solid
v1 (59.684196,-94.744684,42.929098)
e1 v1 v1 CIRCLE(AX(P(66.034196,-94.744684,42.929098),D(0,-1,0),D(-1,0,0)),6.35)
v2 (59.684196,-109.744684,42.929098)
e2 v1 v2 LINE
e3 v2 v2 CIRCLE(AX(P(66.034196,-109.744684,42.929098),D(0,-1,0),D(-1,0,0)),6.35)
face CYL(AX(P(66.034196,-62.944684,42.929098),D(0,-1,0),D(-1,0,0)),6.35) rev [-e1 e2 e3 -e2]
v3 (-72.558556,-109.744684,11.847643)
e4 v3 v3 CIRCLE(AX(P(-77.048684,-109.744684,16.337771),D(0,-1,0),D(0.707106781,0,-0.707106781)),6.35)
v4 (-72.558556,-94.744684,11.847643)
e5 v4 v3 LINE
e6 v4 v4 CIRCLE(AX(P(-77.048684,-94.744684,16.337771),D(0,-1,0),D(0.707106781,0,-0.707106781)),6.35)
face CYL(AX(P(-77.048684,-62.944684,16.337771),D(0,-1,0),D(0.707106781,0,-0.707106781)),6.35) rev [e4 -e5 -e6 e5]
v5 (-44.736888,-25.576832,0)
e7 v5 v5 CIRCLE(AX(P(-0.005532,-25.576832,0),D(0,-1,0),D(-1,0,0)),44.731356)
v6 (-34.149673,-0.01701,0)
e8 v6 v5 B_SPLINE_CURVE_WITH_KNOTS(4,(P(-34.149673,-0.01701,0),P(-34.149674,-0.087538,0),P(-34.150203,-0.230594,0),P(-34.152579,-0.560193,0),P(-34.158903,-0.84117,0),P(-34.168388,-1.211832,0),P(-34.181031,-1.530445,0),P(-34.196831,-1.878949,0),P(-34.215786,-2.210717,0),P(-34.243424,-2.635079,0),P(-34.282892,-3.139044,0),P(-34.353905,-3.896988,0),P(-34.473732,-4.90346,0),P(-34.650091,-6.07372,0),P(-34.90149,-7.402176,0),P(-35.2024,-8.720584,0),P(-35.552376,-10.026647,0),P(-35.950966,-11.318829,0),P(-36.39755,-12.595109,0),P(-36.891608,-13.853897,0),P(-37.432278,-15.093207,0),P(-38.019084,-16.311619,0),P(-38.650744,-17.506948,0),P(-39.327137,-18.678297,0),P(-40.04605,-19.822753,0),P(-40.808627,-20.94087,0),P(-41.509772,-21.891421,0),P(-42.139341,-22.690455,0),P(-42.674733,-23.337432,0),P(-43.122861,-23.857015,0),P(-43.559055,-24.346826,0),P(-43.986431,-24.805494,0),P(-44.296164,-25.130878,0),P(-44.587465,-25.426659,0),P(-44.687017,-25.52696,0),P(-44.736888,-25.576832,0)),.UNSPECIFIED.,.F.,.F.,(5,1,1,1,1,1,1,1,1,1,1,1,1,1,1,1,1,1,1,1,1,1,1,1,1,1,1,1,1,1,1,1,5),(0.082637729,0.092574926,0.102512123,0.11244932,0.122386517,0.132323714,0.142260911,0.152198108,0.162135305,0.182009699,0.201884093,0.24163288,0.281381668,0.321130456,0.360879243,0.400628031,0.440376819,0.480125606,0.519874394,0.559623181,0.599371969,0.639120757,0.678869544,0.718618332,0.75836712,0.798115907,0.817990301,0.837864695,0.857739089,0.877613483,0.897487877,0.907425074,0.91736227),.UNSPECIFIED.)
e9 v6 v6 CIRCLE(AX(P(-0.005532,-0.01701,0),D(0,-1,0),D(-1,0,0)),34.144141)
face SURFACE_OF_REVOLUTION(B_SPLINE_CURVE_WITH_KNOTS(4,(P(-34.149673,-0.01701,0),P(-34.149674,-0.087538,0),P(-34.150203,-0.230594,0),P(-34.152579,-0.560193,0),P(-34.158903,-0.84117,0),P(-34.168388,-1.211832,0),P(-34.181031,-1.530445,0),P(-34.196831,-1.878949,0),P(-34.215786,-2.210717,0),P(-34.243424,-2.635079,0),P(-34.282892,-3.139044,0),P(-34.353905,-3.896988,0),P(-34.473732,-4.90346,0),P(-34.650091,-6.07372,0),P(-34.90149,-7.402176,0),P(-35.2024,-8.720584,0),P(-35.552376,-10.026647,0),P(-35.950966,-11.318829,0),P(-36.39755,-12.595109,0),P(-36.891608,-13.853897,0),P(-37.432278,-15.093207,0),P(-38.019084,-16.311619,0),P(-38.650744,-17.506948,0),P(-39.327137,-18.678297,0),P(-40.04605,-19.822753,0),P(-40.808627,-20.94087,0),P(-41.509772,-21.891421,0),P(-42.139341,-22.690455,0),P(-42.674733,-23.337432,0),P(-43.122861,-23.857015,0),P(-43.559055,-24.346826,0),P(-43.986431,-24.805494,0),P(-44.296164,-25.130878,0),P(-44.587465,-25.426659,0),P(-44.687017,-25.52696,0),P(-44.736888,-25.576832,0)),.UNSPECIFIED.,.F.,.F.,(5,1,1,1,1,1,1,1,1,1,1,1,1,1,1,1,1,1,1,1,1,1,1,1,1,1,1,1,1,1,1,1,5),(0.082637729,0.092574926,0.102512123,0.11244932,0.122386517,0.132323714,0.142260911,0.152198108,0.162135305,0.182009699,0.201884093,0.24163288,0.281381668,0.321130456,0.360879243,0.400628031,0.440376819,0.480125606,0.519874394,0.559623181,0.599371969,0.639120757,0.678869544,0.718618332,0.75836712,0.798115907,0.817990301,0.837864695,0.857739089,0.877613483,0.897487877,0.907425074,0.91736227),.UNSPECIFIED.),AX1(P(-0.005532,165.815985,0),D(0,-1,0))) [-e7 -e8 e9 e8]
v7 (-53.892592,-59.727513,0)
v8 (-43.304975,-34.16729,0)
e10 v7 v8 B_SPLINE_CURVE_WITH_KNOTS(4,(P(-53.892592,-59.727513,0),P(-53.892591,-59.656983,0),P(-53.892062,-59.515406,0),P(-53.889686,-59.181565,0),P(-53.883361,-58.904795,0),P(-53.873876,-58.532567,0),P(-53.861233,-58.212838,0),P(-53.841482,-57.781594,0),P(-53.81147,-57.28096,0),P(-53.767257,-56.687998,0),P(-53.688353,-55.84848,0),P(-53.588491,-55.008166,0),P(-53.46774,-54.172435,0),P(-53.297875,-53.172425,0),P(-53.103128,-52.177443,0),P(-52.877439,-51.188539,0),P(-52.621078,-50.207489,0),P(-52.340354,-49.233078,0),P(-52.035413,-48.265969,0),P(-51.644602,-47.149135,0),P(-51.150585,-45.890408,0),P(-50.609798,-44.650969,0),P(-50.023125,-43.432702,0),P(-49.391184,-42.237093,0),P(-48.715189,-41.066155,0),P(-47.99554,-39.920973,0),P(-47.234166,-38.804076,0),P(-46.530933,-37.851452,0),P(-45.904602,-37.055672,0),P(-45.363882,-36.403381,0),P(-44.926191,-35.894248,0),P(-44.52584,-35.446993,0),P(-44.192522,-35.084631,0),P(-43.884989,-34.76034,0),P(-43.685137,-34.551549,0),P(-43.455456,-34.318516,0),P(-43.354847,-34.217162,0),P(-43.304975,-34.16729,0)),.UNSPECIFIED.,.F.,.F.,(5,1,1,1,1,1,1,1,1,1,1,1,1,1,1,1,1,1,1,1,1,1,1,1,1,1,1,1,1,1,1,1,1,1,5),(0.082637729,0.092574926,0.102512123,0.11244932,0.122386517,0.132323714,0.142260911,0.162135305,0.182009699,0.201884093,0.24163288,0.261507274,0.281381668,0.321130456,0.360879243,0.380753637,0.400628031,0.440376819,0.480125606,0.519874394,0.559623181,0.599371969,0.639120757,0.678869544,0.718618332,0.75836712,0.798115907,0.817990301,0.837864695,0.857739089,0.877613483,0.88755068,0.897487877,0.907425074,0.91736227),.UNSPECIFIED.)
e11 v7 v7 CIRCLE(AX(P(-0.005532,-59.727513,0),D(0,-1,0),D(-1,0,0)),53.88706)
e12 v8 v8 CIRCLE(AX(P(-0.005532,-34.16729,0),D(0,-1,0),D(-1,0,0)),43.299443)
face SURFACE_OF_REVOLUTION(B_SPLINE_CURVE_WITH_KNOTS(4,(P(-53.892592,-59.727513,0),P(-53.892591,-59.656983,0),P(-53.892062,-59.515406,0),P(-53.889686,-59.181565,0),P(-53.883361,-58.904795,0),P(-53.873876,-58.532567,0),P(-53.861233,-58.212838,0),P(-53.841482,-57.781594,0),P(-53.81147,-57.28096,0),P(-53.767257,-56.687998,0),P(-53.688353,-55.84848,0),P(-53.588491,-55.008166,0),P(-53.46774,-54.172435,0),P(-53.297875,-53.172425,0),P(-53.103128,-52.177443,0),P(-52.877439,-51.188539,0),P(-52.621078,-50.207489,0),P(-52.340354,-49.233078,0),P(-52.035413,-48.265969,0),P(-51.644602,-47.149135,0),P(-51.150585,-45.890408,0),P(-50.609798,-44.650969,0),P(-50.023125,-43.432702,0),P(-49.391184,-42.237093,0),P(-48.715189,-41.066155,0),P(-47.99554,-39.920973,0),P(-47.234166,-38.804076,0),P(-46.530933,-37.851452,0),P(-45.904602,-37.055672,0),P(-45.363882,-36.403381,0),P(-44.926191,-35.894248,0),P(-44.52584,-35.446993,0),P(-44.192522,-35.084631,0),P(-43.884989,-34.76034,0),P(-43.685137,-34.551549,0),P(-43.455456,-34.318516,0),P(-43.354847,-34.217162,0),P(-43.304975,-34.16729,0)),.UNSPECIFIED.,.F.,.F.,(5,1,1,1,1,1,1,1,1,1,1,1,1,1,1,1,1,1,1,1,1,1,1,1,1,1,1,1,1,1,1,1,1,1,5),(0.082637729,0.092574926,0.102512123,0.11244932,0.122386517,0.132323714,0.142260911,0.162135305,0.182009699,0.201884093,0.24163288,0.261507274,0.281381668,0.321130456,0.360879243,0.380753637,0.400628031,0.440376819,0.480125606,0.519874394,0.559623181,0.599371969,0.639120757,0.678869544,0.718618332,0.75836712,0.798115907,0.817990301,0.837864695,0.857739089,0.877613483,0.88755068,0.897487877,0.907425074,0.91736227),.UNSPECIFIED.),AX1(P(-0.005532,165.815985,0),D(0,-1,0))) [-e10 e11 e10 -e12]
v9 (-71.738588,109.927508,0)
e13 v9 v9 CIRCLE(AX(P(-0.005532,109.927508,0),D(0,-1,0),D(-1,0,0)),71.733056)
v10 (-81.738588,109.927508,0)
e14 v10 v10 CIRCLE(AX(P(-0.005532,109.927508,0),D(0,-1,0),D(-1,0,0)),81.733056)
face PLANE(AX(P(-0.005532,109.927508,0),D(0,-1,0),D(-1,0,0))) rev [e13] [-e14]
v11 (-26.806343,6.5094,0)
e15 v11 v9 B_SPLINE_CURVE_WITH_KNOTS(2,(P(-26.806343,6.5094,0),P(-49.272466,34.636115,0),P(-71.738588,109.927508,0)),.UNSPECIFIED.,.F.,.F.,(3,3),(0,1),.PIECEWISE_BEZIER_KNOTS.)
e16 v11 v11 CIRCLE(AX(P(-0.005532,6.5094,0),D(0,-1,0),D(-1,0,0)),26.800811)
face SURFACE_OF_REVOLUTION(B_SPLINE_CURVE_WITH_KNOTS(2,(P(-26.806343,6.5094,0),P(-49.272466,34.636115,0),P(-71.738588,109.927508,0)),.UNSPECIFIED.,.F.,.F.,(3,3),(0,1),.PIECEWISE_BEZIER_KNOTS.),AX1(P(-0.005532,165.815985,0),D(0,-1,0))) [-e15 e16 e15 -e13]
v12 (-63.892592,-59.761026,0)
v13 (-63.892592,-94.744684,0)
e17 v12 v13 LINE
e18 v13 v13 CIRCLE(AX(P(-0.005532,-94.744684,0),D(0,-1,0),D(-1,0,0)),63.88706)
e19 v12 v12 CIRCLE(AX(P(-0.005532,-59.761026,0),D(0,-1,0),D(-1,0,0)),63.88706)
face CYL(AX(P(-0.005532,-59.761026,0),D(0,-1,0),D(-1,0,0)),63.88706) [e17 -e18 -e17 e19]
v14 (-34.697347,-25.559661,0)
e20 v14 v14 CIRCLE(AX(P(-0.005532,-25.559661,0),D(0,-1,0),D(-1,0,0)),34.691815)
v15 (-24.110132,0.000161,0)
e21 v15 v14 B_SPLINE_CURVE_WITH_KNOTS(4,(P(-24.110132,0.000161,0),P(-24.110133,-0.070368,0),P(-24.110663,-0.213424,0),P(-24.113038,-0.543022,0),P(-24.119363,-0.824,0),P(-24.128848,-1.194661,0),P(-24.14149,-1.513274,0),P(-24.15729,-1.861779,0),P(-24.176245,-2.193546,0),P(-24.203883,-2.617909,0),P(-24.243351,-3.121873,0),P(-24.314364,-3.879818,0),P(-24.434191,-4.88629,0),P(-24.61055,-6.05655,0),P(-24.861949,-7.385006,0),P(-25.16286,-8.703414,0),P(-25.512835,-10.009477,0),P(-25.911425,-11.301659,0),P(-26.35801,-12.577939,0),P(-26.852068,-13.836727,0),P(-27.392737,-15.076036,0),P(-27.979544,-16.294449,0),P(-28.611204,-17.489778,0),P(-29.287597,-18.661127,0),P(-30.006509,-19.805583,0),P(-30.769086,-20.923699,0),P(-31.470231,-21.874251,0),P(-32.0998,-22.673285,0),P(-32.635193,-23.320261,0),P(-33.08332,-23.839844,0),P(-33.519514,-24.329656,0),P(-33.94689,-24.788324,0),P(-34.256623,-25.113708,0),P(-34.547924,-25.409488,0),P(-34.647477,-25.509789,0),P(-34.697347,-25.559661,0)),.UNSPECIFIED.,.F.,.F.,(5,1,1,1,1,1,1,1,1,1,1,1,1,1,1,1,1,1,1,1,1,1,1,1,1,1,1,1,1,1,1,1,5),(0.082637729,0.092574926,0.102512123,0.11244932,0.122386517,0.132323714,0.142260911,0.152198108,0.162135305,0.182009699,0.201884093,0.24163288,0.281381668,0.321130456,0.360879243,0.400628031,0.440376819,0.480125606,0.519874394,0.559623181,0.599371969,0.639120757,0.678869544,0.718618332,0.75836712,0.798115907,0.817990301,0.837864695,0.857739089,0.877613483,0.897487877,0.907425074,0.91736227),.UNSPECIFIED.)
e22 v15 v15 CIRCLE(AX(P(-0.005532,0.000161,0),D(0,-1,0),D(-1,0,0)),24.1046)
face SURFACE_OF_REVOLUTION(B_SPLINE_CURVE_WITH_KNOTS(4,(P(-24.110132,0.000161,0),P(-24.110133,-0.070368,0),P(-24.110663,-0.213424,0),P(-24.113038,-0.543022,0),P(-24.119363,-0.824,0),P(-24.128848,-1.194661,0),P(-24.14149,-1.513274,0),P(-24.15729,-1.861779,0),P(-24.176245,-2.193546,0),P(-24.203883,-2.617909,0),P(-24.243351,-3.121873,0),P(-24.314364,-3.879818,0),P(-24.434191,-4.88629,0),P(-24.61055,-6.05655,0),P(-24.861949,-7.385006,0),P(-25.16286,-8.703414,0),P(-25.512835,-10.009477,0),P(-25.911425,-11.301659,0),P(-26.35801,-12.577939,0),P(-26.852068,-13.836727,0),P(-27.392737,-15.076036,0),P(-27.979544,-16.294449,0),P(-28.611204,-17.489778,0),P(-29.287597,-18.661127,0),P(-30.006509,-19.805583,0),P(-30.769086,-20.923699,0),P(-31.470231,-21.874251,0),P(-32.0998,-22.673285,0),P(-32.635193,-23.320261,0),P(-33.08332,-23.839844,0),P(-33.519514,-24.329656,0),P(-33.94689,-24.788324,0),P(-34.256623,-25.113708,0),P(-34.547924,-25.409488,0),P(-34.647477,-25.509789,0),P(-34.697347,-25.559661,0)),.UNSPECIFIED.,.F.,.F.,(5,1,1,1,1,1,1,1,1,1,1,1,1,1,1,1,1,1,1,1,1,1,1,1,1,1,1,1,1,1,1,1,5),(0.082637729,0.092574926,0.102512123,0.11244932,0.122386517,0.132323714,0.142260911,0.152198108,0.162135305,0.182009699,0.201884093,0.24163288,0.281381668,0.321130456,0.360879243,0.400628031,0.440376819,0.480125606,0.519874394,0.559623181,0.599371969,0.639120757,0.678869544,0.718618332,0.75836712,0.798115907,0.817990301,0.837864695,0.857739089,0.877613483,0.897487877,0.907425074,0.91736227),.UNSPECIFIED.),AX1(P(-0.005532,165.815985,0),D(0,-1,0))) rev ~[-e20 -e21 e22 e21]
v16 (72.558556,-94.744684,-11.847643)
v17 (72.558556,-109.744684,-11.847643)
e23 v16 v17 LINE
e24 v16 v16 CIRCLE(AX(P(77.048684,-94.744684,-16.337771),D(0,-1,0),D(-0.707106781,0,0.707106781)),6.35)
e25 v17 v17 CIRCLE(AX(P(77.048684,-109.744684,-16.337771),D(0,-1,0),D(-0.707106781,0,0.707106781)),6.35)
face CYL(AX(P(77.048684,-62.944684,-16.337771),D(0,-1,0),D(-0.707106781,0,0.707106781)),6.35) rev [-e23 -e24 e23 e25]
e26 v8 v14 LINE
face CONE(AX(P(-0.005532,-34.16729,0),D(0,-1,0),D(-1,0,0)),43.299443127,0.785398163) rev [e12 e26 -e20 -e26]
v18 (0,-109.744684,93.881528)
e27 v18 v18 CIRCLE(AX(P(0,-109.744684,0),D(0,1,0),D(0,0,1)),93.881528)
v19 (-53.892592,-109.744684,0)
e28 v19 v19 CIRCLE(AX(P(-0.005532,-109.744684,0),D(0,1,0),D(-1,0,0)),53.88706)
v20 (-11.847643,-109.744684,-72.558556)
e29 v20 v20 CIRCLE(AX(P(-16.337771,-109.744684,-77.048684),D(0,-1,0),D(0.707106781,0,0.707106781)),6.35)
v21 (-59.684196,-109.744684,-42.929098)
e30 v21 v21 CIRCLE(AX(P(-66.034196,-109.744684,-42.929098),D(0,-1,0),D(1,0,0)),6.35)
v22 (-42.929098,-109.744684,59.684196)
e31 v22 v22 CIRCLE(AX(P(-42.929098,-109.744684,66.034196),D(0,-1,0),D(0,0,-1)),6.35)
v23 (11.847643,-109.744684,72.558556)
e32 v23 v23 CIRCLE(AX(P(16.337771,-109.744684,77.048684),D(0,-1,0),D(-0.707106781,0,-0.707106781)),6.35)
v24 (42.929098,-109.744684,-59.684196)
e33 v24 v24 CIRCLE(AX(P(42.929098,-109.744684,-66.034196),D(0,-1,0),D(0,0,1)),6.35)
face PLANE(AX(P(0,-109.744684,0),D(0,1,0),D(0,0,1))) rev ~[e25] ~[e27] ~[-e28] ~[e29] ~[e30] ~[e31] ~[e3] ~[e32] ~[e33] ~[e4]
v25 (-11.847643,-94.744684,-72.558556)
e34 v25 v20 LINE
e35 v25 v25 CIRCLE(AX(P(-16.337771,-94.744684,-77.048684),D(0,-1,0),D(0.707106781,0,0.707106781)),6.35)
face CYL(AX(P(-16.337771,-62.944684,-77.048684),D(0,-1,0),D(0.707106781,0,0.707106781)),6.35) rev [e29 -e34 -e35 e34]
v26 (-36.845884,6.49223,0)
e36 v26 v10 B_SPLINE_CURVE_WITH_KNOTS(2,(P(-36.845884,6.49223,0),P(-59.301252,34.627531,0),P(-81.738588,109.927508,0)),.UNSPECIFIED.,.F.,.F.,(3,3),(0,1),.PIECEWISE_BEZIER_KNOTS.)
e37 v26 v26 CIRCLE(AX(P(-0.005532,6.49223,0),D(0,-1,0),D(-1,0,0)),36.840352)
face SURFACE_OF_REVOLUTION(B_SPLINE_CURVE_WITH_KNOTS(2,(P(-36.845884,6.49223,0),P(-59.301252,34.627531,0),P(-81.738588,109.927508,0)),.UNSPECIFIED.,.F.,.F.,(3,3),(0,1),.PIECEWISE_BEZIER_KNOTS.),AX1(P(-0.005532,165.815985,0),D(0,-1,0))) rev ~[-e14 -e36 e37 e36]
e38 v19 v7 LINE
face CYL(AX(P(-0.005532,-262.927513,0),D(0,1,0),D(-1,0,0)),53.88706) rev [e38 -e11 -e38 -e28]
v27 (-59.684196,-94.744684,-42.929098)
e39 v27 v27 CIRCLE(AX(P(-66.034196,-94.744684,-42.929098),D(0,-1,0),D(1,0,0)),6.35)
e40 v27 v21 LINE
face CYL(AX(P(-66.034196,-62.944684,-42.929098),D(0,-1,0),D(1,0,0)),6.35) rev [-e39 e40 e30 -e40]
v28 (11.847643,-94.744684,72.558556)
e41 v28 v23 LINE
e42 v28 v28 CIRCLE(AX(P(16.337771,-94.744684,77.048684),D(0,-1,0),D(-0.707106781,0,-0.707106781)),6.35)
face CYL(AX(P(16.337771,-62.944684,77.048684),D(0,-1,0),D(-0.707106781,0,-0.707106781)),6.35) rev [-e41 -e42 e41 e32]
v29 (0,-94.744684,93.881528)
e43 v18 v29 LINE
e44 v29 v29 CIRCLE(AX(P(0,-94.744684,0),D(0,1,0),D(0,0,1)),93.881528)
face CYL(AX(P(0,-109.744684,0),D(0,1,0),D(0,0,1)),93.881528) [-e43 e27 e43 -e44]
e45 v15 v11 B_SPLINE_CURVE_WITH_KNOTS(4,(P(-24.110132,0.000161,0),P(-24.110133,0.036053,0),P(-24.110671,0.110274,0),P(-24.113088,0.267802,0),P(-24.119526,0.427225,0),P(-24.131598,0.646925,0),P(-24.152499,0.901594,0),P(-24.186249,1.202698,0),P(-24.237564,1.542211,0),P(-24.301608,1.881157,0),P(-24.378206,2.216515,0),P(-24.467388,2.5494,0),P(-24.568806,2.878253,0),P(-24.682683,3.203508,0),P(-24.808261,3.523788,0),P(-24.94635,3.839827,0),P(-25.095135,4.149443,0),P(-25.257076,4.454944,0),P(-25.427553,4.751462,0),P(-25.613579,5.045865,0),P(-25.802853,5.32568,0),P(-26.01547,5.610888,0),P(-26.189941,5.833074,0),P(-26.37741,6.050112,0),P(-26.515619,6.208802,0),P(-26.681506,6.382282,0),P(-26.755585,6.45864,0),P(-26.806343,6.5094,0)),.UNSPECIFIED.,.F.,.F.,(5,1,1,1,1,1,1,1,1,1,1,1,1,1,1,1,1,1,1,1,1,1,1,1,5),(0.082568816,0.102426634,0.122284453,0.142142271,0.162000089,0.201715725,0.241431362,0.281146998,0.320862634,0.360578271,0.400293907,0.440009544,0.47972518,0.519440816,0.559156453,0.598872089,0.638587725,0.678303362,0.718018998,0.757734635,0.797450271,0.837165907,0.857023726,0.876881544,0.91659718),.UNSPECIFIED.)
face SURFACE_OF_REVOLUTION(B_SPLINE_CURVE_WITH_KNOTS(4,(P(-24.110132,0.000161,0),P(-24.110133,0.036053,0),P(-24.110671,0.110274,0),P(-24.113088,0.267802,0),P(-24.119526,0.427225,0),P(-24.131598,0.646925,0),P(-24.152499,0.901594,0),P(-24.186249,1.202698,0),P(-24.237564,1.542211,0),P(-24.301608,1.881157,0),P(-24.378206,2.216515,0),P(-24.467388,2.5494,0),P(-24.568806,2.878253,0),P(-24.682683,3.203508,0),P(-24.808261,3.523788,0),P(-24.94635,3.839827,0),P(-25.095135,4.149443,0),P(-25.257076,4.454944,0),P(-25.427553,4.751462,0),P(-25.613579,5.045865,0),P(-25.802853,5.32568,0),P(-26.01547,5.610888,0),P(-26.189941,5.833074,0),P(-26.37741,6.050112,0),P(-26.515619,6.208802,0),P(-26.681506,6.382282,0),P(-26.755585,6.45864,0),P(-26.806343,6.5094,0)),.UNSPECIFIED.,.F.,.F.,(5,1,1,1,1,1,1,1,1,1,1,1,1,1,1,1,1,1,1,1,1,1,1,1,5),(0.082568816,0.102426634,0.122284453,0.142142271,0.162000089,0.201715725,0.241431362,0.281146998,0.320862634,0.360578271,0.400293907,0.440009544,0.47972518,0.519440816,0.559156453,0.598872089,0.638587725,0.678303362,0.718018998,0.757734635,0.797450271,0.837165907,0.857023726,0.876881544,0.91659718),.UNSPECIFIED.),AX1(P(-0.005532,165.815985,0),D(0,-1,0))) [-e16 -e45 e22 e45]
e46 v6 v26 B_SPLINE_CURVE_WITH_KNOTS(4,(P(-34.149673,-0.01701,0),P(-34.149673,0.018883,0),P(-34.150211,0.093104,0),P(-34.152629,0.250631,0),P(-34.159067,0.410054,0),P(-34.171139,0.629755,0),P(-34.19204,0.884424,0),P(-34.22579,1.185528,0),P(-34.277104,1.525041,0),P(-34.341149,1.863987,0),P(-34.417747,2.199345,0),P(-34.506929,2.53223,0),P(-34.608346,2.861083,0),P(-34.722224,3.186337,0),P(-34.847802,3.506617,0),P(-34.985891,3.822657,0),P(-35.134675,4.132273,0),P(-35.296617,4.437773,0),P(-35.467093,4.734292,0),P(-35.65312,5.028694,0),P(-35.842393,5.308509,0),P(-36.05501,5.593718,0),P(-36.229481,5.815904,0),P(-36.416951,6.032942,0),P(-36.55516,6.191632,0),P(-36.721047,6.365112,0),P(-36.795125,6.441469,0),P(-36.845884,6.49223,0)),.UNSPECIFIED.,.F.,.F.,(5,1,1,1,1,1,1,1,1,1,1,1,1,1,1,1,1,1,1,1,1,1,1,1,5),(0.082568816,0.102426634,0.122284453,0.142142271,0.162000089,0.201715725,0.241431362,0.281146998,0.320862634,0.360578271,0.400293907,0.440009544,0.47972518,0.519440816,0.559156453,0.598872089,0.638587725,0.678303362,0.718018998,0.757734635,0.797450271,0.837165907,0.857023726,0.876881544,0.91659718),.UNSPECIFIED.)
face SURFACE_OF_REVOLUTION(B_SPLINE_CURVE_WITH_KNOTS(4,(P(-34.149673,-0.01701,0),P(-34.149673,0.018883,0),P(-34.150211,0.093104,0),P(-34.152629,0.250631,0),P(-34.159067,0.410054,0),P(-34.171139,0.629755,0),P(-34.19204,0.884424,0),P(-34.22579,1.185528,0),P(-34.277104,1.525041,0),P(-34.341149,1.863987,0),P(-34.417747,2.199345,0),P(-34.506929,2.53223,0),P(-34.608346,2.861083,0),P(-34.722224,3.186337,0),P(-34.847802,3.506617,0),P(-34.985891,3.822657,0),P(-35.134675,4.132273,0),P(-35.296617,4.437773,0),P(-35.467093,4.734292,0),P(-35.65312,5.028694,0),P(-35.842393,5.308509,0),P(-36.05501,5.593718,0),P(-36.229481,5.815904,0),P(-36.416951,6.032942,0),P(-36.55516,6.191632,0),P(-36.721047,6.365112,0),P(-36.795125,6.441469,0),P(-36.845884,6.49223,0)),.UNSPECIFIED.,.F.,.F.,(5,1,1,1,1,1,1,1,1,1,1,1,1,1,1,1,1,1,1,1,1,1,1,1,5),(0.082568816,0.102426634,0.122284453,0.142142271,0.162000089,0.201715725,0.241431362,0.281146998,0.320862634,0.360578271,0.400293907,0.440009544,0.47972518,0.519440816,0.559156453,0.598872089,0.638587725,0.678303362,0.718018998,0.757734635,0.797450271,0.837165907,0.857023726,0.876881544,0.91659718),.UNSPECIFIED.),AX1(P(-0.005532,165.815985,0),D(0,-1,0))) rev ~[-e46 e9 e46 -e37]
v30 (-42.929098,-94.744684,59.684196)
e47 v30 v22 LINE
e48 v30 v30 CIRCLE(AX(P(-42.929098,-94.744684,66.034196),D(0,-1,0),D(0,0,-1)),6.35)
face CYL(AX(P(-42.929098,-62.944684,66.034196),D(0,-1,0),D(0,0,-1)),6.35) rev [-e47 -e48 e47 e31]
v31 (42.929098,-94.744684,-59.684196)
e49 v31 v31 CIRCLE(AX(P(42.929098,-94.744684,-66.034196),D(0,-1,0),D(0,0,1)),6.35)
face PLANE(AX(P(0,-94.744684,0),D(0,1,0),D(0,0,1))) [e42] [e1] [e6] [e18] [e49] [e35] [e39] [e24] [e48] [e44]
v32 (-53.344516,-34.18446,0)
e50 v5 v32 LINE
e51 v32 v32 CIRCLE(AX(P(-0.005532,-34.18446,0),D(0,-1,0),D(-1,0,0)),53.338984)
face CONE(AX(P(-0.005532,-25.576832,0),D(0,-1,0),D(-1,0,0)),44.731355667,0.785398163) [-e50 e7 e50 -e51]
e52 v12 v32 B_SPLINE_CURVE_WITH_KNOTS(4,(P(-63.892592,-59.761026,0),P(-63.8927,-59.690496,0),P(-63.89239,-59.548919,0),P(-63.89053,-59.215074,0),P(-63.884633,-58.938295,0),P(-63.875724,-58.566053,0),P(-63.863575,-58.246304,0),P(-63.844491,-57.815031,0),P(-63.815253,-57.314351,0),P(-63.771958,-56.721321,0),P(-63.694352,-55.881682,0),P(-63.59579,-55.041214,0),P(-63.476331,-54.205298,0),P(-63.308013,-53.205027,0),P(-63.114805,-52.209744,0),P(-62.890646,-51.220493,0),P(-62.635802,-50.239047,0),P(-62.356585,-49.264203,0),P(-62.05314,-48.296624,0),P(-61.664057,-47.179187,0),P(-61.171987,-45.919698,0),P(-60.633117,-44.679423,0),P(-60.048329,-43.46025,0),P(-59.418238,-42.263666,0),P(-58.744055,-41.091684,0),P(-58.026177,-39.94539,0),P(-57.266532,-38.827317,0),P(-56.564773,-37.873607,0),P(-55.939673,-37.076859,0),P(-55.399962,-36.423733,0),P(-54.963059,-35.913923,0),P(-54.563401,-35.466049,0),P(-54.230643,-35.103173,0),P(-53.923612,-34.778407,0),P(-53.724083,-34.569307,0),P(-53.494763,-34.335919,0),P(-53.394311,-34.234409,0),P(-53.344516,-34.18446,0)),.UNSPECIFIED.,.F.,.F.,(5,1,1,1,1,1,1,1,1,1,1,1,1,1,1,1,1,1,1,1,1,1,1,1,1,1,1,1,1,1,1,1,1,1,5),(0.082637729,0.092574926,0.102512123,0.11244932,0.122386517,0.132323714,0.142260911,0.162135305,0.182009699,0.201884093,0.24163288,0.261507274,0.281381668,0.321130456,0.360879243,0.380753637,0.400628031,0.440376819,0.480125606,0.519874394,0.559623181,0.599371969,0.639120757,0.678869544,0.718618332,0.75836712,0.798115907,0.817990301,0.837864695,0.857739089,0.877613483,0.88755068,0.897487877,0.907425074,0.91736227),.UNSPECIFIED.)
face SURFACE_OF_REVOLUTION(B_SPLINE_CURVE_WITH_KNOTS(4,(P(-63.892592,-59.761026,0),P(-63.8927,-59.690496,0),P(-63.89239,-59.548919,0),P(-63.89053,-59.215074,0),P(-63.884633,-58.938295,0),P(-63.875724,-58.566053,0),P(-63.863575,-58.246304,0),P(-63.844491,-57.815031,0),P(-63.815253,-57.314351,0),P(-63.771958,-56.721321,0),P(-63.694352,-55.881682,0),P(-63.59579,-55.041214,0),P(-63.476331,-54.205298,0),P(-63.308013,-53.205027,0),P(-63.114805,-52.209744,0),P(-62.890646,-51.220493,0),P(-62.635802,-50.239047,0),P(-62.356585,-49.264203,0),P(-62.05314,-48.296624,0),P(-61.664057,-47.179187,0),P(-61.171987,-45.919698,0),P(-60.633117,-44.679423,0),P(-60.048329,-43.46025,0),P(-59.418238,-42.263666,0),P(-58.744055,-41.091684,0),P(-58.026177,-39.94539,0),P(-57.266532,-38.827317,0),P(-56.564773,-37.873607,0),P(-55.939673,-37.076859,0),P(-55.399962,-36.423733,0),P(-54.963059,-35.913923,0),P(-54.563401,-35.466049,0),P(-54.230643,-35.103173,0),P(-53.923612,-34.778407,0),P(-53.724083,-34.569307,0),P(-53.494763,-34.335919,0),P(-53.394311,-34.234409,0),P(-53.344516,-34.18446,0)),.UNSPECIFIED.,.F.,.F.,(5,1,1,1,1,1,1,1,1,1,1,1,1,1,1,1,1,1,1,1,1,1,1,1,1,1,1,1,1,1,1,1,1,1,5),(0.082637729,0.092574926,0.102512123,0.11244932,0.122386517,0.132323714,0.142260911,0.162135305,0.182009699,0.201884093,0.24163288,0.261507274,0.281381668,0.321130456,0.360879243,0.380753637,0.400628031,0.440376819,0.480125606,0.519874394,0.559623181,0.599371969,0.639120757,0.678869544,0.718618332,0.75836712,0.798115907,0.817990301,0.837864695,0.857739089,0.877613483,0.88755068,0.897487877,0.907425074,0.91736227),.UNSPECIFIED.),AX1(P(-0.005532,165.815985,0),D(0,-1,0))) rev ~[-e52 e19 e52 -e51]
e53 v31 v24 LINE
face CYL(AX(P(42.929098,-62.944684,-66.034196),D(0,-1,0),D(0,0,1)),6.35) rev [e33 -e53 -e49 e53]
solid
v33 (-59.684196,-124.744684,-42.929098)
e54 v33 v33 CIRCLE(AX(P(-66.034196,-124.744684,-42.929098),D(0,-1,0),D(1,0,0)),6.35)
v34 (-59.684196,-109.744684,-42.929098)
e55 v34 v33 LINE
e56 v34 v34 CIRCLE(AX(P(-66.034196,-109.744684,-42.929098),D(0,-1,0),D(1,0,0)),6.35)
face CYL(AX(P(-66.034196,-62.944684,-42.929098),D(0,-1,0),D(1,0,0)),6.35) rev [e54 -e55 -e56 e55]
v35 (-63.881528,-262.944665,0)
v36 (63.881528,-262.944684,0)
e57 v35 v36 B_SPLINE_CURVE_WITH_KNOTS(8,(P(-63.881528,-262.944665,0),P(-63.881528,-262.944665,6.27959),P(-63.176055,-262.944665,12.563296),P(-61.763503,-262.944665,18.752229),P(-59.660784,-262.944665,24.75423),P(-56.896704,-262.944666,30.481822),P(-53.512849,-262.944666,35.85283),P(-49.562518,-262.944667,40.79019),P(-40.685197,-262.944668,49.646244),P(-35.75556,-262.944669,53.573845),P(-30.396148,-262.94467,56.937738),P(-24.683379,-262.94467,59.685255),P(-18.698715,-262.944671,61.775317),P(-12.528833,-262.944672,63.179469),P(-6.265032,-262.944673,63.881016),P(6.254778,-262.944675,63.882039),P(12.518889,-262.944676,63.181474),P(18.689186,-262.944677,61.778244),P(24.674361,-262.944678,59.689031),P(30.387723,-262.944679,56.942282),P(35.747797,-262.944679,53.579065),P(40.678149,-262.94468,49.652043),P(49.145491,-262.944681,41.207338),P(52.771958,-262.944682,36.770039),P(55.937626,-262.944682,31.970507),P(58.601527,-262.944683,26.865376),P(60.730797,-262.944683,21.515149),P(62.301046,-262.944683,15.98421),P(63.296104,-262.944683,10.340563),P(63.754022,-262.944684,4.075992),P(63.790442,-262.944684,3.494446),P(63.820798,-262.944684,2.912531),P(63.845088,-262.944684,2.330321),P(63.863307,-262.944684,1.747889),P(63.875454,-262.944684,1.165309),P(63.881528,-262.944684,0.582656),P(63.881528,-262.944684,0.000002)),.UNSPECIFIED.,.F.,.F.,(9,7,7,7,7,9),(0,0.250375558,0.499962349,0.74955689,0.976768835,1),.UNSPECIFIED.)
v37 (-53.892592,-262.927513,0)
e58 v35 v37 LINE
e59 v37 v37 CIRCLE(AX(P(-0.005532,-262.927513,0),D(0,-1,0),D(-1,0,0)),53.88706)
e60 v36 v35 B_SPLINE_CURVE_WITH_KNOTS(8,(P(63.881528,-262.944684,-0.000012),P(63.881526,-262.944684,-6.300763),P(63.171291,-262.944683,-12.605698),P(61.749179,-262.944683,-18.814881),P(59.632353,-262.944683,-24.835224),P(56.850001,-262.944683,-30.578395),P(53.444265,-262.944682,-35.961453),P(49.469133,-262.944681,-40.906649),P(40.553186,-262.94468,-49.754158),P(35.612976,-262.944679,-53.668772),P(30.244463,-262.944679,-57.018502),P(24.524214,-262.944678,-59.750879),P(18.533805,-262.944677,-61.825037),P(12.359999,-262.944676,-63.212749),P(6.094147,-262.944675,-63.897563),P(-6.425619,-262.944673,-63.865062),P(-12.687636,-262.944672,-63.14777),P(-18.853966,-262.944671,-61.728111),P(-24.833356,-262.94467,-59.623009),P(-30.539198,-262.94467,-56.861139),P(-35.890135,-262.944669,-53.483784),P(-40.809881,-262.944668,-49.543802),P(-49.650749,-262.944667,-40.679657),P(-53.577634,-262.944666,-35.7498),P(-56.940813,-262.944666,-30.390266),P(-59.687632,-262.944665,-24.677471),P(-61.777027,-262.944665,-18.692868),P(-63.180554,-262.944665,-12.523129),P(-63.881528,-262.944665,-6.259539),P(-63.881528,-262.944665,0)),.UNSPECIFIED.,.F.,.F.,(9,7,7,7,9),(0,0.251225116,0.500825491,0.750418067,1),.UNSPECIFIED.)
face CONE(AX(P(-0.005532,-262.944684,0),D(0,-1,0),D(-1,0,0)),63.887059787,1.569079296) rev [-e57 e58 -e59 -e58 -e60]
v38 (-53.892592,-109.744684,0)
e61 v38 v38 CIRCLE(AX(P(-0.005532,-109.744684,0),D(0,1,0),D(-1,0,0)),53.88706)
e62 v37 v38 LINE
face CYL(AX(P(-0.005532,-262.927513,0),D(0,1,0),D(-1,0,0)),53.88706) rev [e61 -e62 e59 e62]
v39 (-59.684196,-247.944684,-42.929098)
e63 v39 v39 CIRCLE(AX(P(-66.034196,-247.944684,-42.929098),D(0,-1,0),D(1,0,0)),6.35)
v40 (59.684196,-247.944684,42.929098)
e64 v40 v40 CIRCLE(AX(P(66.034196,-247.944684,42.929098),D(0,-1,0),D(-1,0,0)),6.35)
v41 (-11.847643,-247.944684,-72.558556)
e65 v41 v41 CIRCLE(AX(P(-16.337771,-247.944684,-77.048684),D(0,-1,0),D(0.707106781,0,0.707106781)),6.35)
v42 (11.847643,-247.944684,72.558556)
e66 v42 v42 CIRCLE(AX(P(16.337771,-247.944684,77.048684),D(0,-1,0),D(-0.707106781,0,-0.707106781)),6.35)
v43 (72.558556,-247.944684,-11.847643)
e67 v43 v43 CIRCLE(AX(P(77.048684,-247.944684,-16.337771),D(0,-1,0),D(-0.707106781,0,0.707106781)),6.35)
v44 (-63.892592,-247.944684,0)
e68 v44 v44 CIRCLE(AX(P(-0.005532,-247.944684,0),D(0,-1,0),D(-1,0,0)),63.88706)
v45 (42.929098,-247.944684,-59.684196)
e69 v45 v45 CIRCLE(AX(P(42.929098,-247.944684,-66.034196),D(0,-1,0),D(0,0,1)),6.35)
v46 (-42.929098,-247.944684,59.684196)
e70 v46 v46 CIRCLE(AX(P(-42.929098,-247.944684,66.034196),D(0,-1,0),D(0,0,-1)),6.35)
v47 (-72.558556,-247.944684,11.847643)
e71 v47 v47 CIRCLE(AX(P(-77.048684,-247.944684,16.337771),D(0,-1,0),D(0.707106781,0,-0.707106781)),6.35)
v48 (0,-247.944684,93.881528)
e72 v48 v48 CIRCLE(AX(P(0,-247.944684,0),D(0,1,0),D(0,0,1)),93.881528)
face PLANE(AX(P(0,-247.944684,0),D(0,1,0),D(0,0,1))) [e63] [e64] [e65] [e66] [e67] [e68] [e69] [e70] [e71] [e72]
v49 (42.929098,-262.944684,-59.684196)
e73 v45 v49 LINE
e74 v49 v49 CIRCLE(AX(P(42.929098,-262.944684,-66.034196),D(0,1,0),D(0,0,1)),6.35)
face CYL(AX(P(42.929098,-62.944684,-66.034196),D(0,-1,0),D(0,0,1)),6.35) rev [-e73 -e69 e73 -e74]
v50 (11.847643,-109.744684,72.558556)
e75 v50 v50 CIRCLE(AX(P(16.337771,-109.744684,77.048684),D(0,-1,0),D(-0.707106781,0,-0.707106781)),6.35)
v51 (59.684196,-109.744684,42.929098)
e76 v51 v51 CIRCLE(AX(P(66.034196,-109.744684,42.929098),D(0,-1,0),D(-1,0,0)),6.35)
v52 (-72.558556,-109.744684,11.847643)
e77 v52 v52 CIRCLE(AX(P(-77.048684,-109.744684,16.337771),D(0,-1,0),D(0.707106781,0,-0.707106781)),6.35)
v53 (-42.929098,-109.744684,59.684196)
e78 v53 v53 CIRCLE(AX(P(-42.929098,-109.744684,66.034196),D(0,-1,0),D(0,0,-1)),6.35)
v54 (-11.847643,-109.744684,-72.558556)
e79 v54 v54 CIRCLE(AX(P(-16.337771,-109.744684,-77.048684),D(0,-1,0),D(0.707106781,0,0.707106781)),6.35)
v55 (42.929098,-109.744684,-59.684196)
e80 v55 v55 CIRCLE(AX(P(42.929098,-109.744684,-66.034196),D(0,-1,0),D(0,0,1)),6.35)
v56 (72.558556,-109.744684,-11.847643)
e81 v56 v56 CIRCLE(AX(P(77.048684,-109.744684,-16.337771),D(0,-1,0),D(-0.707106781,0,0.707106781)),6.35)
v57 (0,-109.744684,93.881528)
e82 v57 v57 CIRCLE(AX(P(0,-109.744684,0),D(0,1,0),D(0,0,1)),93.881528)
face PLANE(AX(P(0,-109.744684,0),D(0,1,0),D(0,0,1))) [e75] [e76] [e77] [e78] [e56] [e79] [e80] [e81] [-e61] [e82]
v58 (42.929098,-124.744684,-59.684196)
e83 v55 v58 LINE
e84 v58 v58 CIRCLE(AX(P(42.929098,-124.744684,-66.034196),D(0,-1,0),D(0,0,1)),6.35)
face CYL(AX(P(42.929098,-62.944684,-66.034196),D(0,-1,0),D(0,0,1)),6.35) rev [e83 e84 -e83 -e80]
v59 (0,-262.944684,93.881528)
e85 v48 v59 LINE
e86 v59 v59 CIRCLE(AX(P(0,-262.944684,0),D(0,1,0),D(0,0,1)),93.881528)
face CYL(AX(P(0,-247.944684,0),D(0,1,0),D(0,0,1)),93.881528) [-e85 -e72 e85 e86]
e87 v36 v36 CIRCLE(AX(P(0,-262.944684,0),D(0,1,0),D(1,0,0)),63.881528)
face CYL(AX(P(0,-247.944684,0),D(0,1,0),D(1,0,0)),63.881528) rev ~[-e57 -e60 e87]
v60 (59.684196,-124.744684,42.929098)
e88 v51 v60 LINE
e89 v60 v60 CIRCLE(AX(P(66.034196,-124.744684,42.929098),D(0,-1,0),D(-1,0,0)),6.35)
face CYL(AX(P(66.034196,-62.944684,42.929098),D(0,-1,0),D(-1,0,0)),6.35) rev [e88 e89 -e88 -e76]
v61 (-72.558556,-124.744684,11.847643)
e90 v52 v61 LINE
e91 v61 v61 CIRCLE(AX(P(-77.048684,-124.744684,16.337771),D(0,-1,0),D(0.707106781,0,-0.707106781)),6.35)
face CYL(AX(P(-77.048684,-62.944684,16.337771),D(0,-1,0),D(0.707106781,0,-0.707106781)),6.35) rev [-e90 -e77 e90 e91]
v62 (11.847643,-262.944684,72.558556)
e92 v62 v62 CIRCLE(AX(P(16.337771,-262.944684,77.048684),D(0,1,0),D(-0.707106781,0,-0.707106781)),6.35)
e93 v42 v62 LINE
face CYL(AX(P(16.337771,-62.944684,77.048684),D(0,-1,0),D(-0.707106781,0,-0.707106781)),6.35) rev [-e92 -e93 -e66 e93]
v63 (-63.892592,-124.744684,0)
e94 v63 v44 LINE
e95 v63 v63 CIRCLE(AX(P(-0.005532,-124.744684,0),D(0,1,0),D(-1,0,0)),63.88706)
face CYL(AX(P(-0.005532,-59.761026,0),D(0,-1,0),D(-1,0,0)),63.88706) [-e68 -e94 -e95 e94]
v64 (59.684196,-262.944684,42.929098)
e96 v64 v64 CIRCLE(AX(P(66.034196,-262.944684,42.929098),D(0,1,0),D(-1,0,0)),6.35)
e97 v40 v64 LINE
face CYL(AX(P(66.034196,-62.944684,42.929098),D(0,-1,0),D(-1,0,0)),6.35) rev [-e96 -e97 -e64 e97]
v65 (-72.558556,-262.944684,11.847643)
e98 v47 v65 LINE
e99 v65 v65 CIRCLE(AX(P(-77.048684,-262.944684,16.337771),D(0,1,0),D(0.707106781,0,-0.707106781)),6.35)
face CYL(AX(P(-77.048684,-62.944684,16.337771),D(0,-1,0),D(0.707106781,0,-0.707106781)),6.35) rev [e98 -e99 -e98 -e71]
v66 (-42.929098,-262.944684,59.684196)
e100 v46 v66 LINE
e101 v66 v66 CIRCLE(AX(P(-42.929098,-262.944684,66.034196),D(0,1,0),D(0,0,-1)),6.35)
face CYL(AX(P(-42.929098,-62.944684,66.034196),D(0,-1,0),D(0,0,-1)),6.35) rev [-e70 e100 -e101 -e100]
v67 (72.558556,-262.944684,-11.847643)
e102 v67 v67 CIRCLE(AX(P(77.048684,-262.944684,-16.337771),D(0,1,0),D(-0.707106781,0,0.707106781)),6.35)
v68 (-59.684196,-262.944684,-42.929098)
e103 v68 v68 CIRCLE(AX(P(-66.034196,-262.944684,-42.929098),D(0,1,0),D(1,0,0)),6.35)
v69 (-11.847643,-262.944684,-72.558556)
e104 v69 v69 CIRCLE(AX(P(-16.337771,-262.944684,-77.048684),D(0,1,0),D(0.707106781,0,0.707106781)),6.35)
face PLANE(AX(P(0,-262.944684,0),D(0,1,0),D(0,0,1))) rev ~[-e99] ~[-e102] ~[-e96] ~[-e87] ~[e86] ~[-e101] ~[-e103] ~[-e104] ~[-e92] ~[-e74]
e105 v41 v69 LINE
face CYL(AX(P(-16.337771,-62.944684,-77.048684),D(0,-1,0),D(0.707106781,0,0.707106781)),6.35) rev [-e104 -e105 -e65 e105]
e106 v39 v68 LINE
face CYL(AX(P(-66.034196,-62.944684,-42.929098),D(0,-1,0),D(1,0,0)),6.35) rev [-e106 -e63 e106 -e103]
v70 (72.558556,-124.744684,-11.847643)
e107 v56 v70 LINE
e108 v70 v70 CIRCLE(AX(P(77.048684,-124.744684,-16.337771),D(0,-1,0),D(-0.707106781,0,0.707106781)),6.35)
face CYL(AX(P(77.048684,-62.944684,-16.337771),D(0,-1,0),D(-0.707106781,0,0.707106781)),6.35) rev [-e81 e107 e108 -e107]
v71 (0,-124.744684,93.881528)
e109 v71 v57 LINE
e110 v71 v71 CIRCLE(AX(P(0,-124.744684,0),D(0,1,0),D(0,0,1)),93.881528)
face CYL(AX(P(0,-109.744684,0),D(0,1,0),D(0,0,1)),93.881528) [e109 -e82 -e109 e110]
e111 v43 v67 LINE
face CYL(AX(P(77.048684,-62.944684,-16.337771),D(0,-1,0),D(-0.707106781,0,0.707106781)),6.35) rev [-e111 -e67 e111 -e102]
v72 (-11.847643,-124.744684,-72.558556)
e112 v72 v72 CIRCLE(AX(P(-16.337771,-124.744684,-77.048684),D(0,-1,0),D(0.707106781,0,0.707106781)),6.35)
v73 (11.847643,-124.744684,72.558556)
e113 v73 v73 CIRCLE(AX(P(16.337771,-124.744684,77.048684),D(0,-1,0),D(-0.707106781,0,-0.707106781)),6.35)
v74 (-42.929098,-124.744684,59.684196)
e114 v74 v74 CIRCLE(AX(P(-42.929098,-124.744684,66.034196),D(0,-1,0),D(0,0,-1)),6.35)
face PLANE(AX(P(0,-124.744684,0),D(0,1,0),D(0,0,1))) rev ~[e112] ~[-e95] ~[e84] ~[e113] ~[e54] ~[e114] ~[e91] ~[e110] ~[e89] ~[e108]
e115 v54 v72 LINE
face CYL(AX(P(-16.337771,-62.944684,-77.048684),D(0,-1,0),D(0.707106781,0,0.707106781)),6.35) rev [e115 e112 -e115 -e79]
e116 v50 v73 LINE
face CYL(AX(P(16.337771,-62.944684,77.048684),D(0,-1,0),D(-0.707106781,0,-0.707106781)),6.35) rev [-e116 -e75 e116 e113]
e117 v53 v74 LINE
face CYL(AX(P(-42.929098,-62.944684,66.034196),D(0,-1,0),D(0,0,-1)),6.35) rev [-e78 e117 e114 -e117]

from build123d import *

# Parameters (mm, degrees)
SKETCH2_R           = 93.881527661
SKETCH2_R_2         = 63.881527661
BOSS_EXTRUDE1_DEPTH = 15
BOSS_EXTRUDE2_START = 15
SKETCH3_R           = 93.881527661
SKETCH3_R_2         = 63.881527661
BOSS_EXTRUDE2_DEPTH = 15
CIRPATTERN1_COUNT   = 8


with BuildPart() as part:
    # Sketch1 → Revolve2 (revolve)
    with BuildSketch(Plane.XY, mode=Mode.PRIVATE) as revolve2_sk:
        with BuildLine():
            Line((71.727523603, 109.92750764), (81.727523603, 109.92750764))
            add(Edge.make_bspline(
                [(36.834819916, 6.492229985), (59.290187444, 34.627531396), (81.727523603, 109.92750764)],
                knots=[0, 0, 0, 1, 1, 1], degree=2))
            add(Edge.make_bspline(
                [(34.138608587, -0.017009666), (34.138609214, 0.018882986), (34.139147045, 0.093104024), (34.141564436, 0.250631404), (34.148002281, 0.410054451), (34.160074312, 0.629754601), (34.1809758, 0.884423662), (34.214725432, 1.185527607), (34.266040019, 1.525040832), (34.330084415, 1.863987111), (34.406682315, 2.199344754), (34.495864285, 2.532229755), (34.597282126, 2.861082979), (34.711159784, 3.186337375), (34.836737485, 3.506617492), (34.97482669, 3.822657067), (35.123611014, 4.132272519), (35.285552936, 4.437773457), (35.456029218, 4.73429191), (35.642055434, 5.028694196), (35.831328983, 5.30850927), (36.043946188, 5.593717877), (36.218417088, 5.815903982), (36.405886469, 6.032941971), (36.544095961, 6.19163198), (36.709982784, 6.365112113), (36.784060974, 6.441469176), (36.834819916, 6.492229985)],
                knots=[0.082568816, 0.082568816, 0.082568816, 0.082568816, 0.082568816, 0.102426634, 0.122284453, 0.142142271, 0.162000089, 0.201715725, 0.241431362, 0.281146998, 0.320862634, 0.360578271, 0.400293907, 0.440009544, 0.47972518, 0.519440816, 0.559156453, 0.598872089, 0.638587725, 0.678303362, 0.718018998, 0.757734635, 0.797450271, 0.837165907, 0.857023726, 0.876881544, 0.91659718, 0.91659718, 0.91659718, 0.91659718, 0.91659718], degree=4))
            add(Edge.make_bspline(
                [(34.138608587, -0.017009666), (34.138609818, -0.087538311), (34.139138965, -0.230593854), (34.141514651, -0.56019258), (34.147839045, -0.841170061), (34.157324166, -1.211831735), (34.169966459, -1.530444722), (34.185766683, -1.878949267), (34.204721942, -2.210716536), (34.232359556, -2.635079064), (34.271827763, -3.139043611), (34.342840424, -3.896988339), (34.462667396, -4.903460052), (34.639026763, -6.073720425), (34.890425953, -7.40217608), (35.191336035, -8.72058418), (35.541311346, -10.026646874), (35.939901707, -11.318829263), (36.386486117, -12.595109002), (36.880544049, -13.853897151), (37.42121385, -15.093206797), (38.008020115, -16.311619463), (38.639680128, -17.506948464), (39.316073127, -18.678297428), (40.034985834, -19.822753068), (40.797562733, -20.940869747), (41.498707927, -21.891421434), (42.128276858, -22.690455155), (42.663669152, -23.337431813), (43.111796504, -23.857014692), (43.547990763, -24.346825923), (43.975366859, -24.805494067), (44.285099377, -25.130877988), (44.576400695, -25.426658725), (44.675953163, -25.52695961), (44.725823541, -25.576831795)],
                knots=[0.082637729, 0.082637729, 0.082637729, 0.082637729, 0.082637729, 0.092574926, 0.102512123, 0.11244932, 0.122386517, 0.132323714, 0.142260911, 0.152198108, 0.162135305, 0.182009699, 0.201884093, 0.24163288, 0.281381668, 0.321130456, 0.360879243, 0.400628031, 0.440376819, 0.480125606, 0.519874394, 0.559623181, 0.599371969, 0.639120757, 0.678869544, 0.718618332, 0.75836712, 0.798115907, 0.817990301, 0.837864695, 0.857739089, 0.877613483, 0.897487877, 0.907425074, 0.91736227, 0.91736227, 0.91736227, 0.91736227, 0.91736227], degree=4))
            Line((44.725823541, -25.576831795), (53.333451739, -34.184459993))
            add(Edge.make_bspline(
                [(63.881527661, -59.7610264), (63.881635503, -59.690496419), (63.881325305, -59.548918717), (63.879465733, -59.215073955), (63.873569156, -58.938295382), (63.864659319, -58.566053153), (63.852510889, -58.246304117), (63.833426989, -57.81503091), (63.804188899, -57.314350552), (63.760893785, -56.721321154), (63.683287498, -55.881682335), (63.584725547, -55.041214402), (63.465267047, -54.205298233), (63.29694877, -53.205026548), (63.103741077, -52.20974415), (62.879581588, -51.220492573), (62.624738162, -50.239047247), (62.34552051, -49.264202982), (62.042075876, -48.296624041), (61.652992584, -47.179186843), (61.160922286, -45.919697704), (60.622053079, -44.679423275), (60.037264967, -43.460250183), (59.407173996, -42.26366605), (58.732990622, -41.091683685), (58.015112762, -39.945389917), (57.255467536, -38.827317394), (56.553708502, -37.873606552), (55.928608776, -37.076859239), (55.388897914, -36.423732972), (54.951995064, -35.913923057), (54.55233645, -35.466049486), (54.219578542, -35.103172981), (53.912547537, -34.778406744), (53.713018447, -34.569307229), (53.483698766, -34.335919151), (53.383246706, -34.234409451), (53.333451739, -34.184459993)],
                knots=[0.082637729, 0.082637729, 0.082637729, 0.082637729, 0.082637729, 0.092574926, 0.102512123, 0.11244932, 0.122386517, 0.132323714, 0.142260911, 0.162135305, 0.182009699, 0.201884093, 0.24163288, 0.261507274, 0.281381668, 0.321130456, 0.360879243, 0.380753637, 0.400628031, 0.440376819, 0.480125606, 0.519874394, 0.559623181, 0.599371969, 0.639120757, 0.678869544, 0.718618332, 0.75836712, 0.798115907, 0.817990301, 0.837864695, 0.857739089, 0.877613483, 0.88755068, 0.897487877, 0.907425074, 0.91736227, 0.91736227, 0.91736227, 0.91736227, 0.91736227], degree=4))
            Line((63.881527661, -59.7610264), (63.881527661, -262.944683548))
            Line((63.881527661, -262.944683548), (53.881527661, -262.927513222))
            Line((53.881527661, -262.927513222), (53.881527661, -59.727513222))
            add(Edge.make_bspline(
                [(53.881527661, -59.727513222), (53.88152643, -59.656983159), (53.880997287, -59.515406106), (53.878621437, -59.181564619), (53.872296838, -58.904795495), (53.862811351, -58.53256749), (53.850168453, -58.212837625), (53.830417626, -57.781594445), (53.800405285, -57.280959902), (53.756193122, -56.687998168), (53.677288452, -55.848480369), (53.577426862, -55.008165863), (53.456675787, -54.172435433), (53.286810823, -53.172425243), (53.092064187, -52.177442824), (52.866375121, -51.188539086), (52.610014225, -50.207489041), (52.329289341, -49.233077743), (52.02434874, -48.265969226), (51.633537832, -47.14913507), (51.139520362, -45.890408408), (50.598733754, -44.650968806), (50.012060929, -43.432701528), (49.380120232, -42.237093241), (48.70412523, -41.066154881), (47.984475521, -39.92097266), (47.223102139, -38.804076241), (46.519869062, -37.851451787), (45.893537939, -37.055672125), (45.352817682, -36.403381284), (44.91512695, -35.894247635), (44.514776191, -35.446992659), (44.181457505, -35.084631187), (43.873924626, -34.760340153), (43.674072408, -34.551549453), (43.444392074, -34.31851629), (43.343783153, -34.217162057), (43.293911001, -34.167289665)],
                knots=[0.082637729, 0.082637729, 0.082637729, 0.082637729, 0.082637729, 0.092574926, 0.102512123, 0.11244932, 0.122386517, 0.132323714, 0.142260911, 0.162135305, 0.182009699, 0.201884093, 0.24163288, 0.261507274, 0.281381668, 0.321130456, 0.360879243, 0.380753637, 0.400628031, 0.440376819, 0.480125606, 0.519874394, 0.559623181, 0.599371969, 0.639120757, 0.678869544, 0.718618332, 0.75836712, 0.798115907, 0.817990301, 0.837864695, 0.857739089, 0.877613483, 0.88755068, 0.897487877, 0.907425074, 0.91736227, 0.91736227, 0.91736227, 0.91736227, 0.91736227], degree=4))
            Line((43.293911001, -34.167289665), (34.686282803, -25.559661467))
            add(Edge.make_bspline(
                [(24.099067874, 0.000160672), (24.099069105, -0.070367973), (24.099598252, -0.213423516), (24.101973937, -0.543022242), (24.108298331, -0.823999723), (24.117783452, -1.194661398), (24.130425744, -1.513274384), (24.146225968, -1.861778929), (24.165181227, -2.193546198), (24.19281884, -2.617908726), (24.232287047, -3.121873273), (24.303299707, -3.879818001), (24.423126678, -4.886289715), (24.599486044, -6.056550087), (24.850885233, -7.385005742), (25.151795313, -8.703413843), (25.501770623, -10.009476538), (25.900360983, -11.301658927), (26.346945391, -12.577938666), (26.841003322, -13.836726816), (27.381673121, -15.076036462), (27.968479386, -16.294449129), (28.600139397, -17.48977813), (29.276532395, -18.661127095), (29.995445101, -19.805582736), (30.758021999, -20.923699416), (31.459167192, -21.874251103), (32.088736123, -22.673284825), (32.624128416, -23.320261484), (33.072255768, -23.839844363), (33.508450026, -24.329655594), (33.935826121, -24.788323738), (34.245558639, -25.11370766), (34.536859957, -25.409488397), (34.636412425, -25.509789282), (34.686282803, -25.559661467)],
                knots=[0.082637729, 0.082637729, 0.082637729, 0.082637729, 0.082637729, 0.092574926, 0.102512123, 0.11244932, 0.122386517, 0.132323714, 0.142260911, 0.152198108, 0.162135305, 0.182009699, 0.201884093, 0.24163288, 0.281381668, 0.321130456, 0.360879243, 0.400628031, 0.440376819, 0.480125606, 0.519874394, 0.559623181, 0.599371969, 0.639120757, 0.678869544, 0.718618332, 0.75836712, 0.798115907, 0.817990301, 0.837864695, 0.857739089, 0.877613483, 0.897487877, 0.907425074, 0.91736227, 0.91736227, 0.91736227, 0.91736227, 0.91736227], degree=4))
            add(Edge.make_bspline(
                [(24.099067874, 0.000160672), (24.0990685, 0.036053324), (24.099606331, 0.110274362), (24.102023723, 0.267801742), (24.108461568, 0.427224789), (24.120533599, 0.646924939), (24.141435087, 0.901594), (24.175184719, 1.202697945), (24.226499305, 1.54221117), (24.290543701, 1.881157449), (24.367141601, 2.216515092), (24.456323571, 2.549400093), (24.557741413, 2.878253317), (24.671619071, 3.203507713), (24.797196771, 3.523787829), (24.935285977, 3.839827405), (25.084070301, 4.149442857), (25.246012222, 4.454943795), (25.416488505, 4.751462248), (25.602514721, 5.045864533), (25.79178827, 5.325679608), (26.004405474, 5.610888215), (26.178876374, 5.83307432), (26.366345756, 6.050112309), (26.504555248, 6.208802318), (26.67044207, 6.382282451), (26.744520261, 6.458639514), (26.795279203, 6.509400323)],
                knots=[0.082568816, 0.082568816, 0.082568816, 0.082568816, 0.082568816, 0.102426634, 0.122284453, 0.142142271, 0.162000089, 0.201715725, 0.241431362, 0.281146998, 0.320862634, 0.360578271, 0.400293907, 0.440009544, 0.47972518, 0.519440816, 0.559156453, 0.598872089, 0.638587725, 0.678303362, 0.718018998, 0.757734635, 0.797450271, 0.837165907, 0.857023726, 0.876881544, 0.91659718, 0.91659718, 0.91659718, 0.91659718, 0.91659718], degree=4))
            add(Edge.make_bspline(
                [(26.795279203, 6.509400323), (49.261401403, 34.636114842), (71.727523603, 109.92750764)],
                knots=[0, 0, 0, 1, 1, 1], degree=2))
        make_face()
    revolve(revolve2_sk.sketch.rotate(Axis((-0.005532126, 165.815985114, 0), (0, -1, 0)), 180), axis=Axis((-0.005532126, 165.815985114, 0), (0, -1, 0)))

    # Sketch2 → Boss-Extrude1 (add, symmetric)
    with BuildSketch(Plane(origin=(0, -109.744683548, 0), x_dir=(1, 0, 0), z_dir=(0, 1, 0))):
        with Locations(Location((0, 0, 0), (0, 0, 270))):
            Circle(SKETCH2_R)
        Circle(SKETCH2_R_2, mode=Mode.SUBTRACT)
    extrude(amount=BOSS_EXTRUDE1_DEPTH, both=True)

    # Sketch3 → Boss-Extrude2 (add)
    with BuildSketch(Plane(origin=(0, -262.944683548, 0), x_dir=(1, 0, 0), z_dir=(0, 1, 0)).offset(BOSS_EXTRUDE2_START)):
        with Locations(Location((0, 0, 0), (0, 0, 270))):
            Circle(SKETCH3_R)
        Circle(SKETCH3_R_2, mode=Mode.SUBTRACT)
    extrude(amount=-BOSS_EXTRUDE2_DEPTH)

    # Sketch6 → 1/2 (0.5) Diameter Hole1 (revolve, cut)
    with BuildSketch(Plane(origin=(-42.929097791, -262.944683548, 66.034195532), x_dir=(0, 0, -1), z_dir=(1, 0, 0))):
        Polygon((0, 0), (0, 203.815464931), (6.35, 200), (6.35, 0), align=None)
    f_1_2_0_5_diameter_hole1 = revolve(axis=Axis((-42.929097791, -269.294683548, 66.034195532), (0, 1, 0)), mode=Mode.SUBTRACT)

    # CirPattern1: 1/2 (0.5) Diameter Hole1 ×8 about axis
    cirpattern1_axis = Axis((0, 0, 0), (0, 1, 0))
    for i in range(1, CIRPATTERN1_COUNT):
        add(f_1_2_0_5_diameter_hole1.rotate(cirpattern1_axis, i * 360 / CIRPATTERN1_COUNT), mode=Mode.SUBTRACT)


with BuildPart() as body_2:
    # Split1: the piece on the far side of the plane
    add(part.part)
    split(bisect_by=Plane.ZX.offset(-109.744683548), keep=Keep.BOTTOM)


with BuildPart() as part_1:
    add(part.part)

    # Split1
    split(bisect_by=Plane.ZX.offset(-109.744683548), keep=Keep.TOP)


solid = Compound([body_2.part, part_1.part])
